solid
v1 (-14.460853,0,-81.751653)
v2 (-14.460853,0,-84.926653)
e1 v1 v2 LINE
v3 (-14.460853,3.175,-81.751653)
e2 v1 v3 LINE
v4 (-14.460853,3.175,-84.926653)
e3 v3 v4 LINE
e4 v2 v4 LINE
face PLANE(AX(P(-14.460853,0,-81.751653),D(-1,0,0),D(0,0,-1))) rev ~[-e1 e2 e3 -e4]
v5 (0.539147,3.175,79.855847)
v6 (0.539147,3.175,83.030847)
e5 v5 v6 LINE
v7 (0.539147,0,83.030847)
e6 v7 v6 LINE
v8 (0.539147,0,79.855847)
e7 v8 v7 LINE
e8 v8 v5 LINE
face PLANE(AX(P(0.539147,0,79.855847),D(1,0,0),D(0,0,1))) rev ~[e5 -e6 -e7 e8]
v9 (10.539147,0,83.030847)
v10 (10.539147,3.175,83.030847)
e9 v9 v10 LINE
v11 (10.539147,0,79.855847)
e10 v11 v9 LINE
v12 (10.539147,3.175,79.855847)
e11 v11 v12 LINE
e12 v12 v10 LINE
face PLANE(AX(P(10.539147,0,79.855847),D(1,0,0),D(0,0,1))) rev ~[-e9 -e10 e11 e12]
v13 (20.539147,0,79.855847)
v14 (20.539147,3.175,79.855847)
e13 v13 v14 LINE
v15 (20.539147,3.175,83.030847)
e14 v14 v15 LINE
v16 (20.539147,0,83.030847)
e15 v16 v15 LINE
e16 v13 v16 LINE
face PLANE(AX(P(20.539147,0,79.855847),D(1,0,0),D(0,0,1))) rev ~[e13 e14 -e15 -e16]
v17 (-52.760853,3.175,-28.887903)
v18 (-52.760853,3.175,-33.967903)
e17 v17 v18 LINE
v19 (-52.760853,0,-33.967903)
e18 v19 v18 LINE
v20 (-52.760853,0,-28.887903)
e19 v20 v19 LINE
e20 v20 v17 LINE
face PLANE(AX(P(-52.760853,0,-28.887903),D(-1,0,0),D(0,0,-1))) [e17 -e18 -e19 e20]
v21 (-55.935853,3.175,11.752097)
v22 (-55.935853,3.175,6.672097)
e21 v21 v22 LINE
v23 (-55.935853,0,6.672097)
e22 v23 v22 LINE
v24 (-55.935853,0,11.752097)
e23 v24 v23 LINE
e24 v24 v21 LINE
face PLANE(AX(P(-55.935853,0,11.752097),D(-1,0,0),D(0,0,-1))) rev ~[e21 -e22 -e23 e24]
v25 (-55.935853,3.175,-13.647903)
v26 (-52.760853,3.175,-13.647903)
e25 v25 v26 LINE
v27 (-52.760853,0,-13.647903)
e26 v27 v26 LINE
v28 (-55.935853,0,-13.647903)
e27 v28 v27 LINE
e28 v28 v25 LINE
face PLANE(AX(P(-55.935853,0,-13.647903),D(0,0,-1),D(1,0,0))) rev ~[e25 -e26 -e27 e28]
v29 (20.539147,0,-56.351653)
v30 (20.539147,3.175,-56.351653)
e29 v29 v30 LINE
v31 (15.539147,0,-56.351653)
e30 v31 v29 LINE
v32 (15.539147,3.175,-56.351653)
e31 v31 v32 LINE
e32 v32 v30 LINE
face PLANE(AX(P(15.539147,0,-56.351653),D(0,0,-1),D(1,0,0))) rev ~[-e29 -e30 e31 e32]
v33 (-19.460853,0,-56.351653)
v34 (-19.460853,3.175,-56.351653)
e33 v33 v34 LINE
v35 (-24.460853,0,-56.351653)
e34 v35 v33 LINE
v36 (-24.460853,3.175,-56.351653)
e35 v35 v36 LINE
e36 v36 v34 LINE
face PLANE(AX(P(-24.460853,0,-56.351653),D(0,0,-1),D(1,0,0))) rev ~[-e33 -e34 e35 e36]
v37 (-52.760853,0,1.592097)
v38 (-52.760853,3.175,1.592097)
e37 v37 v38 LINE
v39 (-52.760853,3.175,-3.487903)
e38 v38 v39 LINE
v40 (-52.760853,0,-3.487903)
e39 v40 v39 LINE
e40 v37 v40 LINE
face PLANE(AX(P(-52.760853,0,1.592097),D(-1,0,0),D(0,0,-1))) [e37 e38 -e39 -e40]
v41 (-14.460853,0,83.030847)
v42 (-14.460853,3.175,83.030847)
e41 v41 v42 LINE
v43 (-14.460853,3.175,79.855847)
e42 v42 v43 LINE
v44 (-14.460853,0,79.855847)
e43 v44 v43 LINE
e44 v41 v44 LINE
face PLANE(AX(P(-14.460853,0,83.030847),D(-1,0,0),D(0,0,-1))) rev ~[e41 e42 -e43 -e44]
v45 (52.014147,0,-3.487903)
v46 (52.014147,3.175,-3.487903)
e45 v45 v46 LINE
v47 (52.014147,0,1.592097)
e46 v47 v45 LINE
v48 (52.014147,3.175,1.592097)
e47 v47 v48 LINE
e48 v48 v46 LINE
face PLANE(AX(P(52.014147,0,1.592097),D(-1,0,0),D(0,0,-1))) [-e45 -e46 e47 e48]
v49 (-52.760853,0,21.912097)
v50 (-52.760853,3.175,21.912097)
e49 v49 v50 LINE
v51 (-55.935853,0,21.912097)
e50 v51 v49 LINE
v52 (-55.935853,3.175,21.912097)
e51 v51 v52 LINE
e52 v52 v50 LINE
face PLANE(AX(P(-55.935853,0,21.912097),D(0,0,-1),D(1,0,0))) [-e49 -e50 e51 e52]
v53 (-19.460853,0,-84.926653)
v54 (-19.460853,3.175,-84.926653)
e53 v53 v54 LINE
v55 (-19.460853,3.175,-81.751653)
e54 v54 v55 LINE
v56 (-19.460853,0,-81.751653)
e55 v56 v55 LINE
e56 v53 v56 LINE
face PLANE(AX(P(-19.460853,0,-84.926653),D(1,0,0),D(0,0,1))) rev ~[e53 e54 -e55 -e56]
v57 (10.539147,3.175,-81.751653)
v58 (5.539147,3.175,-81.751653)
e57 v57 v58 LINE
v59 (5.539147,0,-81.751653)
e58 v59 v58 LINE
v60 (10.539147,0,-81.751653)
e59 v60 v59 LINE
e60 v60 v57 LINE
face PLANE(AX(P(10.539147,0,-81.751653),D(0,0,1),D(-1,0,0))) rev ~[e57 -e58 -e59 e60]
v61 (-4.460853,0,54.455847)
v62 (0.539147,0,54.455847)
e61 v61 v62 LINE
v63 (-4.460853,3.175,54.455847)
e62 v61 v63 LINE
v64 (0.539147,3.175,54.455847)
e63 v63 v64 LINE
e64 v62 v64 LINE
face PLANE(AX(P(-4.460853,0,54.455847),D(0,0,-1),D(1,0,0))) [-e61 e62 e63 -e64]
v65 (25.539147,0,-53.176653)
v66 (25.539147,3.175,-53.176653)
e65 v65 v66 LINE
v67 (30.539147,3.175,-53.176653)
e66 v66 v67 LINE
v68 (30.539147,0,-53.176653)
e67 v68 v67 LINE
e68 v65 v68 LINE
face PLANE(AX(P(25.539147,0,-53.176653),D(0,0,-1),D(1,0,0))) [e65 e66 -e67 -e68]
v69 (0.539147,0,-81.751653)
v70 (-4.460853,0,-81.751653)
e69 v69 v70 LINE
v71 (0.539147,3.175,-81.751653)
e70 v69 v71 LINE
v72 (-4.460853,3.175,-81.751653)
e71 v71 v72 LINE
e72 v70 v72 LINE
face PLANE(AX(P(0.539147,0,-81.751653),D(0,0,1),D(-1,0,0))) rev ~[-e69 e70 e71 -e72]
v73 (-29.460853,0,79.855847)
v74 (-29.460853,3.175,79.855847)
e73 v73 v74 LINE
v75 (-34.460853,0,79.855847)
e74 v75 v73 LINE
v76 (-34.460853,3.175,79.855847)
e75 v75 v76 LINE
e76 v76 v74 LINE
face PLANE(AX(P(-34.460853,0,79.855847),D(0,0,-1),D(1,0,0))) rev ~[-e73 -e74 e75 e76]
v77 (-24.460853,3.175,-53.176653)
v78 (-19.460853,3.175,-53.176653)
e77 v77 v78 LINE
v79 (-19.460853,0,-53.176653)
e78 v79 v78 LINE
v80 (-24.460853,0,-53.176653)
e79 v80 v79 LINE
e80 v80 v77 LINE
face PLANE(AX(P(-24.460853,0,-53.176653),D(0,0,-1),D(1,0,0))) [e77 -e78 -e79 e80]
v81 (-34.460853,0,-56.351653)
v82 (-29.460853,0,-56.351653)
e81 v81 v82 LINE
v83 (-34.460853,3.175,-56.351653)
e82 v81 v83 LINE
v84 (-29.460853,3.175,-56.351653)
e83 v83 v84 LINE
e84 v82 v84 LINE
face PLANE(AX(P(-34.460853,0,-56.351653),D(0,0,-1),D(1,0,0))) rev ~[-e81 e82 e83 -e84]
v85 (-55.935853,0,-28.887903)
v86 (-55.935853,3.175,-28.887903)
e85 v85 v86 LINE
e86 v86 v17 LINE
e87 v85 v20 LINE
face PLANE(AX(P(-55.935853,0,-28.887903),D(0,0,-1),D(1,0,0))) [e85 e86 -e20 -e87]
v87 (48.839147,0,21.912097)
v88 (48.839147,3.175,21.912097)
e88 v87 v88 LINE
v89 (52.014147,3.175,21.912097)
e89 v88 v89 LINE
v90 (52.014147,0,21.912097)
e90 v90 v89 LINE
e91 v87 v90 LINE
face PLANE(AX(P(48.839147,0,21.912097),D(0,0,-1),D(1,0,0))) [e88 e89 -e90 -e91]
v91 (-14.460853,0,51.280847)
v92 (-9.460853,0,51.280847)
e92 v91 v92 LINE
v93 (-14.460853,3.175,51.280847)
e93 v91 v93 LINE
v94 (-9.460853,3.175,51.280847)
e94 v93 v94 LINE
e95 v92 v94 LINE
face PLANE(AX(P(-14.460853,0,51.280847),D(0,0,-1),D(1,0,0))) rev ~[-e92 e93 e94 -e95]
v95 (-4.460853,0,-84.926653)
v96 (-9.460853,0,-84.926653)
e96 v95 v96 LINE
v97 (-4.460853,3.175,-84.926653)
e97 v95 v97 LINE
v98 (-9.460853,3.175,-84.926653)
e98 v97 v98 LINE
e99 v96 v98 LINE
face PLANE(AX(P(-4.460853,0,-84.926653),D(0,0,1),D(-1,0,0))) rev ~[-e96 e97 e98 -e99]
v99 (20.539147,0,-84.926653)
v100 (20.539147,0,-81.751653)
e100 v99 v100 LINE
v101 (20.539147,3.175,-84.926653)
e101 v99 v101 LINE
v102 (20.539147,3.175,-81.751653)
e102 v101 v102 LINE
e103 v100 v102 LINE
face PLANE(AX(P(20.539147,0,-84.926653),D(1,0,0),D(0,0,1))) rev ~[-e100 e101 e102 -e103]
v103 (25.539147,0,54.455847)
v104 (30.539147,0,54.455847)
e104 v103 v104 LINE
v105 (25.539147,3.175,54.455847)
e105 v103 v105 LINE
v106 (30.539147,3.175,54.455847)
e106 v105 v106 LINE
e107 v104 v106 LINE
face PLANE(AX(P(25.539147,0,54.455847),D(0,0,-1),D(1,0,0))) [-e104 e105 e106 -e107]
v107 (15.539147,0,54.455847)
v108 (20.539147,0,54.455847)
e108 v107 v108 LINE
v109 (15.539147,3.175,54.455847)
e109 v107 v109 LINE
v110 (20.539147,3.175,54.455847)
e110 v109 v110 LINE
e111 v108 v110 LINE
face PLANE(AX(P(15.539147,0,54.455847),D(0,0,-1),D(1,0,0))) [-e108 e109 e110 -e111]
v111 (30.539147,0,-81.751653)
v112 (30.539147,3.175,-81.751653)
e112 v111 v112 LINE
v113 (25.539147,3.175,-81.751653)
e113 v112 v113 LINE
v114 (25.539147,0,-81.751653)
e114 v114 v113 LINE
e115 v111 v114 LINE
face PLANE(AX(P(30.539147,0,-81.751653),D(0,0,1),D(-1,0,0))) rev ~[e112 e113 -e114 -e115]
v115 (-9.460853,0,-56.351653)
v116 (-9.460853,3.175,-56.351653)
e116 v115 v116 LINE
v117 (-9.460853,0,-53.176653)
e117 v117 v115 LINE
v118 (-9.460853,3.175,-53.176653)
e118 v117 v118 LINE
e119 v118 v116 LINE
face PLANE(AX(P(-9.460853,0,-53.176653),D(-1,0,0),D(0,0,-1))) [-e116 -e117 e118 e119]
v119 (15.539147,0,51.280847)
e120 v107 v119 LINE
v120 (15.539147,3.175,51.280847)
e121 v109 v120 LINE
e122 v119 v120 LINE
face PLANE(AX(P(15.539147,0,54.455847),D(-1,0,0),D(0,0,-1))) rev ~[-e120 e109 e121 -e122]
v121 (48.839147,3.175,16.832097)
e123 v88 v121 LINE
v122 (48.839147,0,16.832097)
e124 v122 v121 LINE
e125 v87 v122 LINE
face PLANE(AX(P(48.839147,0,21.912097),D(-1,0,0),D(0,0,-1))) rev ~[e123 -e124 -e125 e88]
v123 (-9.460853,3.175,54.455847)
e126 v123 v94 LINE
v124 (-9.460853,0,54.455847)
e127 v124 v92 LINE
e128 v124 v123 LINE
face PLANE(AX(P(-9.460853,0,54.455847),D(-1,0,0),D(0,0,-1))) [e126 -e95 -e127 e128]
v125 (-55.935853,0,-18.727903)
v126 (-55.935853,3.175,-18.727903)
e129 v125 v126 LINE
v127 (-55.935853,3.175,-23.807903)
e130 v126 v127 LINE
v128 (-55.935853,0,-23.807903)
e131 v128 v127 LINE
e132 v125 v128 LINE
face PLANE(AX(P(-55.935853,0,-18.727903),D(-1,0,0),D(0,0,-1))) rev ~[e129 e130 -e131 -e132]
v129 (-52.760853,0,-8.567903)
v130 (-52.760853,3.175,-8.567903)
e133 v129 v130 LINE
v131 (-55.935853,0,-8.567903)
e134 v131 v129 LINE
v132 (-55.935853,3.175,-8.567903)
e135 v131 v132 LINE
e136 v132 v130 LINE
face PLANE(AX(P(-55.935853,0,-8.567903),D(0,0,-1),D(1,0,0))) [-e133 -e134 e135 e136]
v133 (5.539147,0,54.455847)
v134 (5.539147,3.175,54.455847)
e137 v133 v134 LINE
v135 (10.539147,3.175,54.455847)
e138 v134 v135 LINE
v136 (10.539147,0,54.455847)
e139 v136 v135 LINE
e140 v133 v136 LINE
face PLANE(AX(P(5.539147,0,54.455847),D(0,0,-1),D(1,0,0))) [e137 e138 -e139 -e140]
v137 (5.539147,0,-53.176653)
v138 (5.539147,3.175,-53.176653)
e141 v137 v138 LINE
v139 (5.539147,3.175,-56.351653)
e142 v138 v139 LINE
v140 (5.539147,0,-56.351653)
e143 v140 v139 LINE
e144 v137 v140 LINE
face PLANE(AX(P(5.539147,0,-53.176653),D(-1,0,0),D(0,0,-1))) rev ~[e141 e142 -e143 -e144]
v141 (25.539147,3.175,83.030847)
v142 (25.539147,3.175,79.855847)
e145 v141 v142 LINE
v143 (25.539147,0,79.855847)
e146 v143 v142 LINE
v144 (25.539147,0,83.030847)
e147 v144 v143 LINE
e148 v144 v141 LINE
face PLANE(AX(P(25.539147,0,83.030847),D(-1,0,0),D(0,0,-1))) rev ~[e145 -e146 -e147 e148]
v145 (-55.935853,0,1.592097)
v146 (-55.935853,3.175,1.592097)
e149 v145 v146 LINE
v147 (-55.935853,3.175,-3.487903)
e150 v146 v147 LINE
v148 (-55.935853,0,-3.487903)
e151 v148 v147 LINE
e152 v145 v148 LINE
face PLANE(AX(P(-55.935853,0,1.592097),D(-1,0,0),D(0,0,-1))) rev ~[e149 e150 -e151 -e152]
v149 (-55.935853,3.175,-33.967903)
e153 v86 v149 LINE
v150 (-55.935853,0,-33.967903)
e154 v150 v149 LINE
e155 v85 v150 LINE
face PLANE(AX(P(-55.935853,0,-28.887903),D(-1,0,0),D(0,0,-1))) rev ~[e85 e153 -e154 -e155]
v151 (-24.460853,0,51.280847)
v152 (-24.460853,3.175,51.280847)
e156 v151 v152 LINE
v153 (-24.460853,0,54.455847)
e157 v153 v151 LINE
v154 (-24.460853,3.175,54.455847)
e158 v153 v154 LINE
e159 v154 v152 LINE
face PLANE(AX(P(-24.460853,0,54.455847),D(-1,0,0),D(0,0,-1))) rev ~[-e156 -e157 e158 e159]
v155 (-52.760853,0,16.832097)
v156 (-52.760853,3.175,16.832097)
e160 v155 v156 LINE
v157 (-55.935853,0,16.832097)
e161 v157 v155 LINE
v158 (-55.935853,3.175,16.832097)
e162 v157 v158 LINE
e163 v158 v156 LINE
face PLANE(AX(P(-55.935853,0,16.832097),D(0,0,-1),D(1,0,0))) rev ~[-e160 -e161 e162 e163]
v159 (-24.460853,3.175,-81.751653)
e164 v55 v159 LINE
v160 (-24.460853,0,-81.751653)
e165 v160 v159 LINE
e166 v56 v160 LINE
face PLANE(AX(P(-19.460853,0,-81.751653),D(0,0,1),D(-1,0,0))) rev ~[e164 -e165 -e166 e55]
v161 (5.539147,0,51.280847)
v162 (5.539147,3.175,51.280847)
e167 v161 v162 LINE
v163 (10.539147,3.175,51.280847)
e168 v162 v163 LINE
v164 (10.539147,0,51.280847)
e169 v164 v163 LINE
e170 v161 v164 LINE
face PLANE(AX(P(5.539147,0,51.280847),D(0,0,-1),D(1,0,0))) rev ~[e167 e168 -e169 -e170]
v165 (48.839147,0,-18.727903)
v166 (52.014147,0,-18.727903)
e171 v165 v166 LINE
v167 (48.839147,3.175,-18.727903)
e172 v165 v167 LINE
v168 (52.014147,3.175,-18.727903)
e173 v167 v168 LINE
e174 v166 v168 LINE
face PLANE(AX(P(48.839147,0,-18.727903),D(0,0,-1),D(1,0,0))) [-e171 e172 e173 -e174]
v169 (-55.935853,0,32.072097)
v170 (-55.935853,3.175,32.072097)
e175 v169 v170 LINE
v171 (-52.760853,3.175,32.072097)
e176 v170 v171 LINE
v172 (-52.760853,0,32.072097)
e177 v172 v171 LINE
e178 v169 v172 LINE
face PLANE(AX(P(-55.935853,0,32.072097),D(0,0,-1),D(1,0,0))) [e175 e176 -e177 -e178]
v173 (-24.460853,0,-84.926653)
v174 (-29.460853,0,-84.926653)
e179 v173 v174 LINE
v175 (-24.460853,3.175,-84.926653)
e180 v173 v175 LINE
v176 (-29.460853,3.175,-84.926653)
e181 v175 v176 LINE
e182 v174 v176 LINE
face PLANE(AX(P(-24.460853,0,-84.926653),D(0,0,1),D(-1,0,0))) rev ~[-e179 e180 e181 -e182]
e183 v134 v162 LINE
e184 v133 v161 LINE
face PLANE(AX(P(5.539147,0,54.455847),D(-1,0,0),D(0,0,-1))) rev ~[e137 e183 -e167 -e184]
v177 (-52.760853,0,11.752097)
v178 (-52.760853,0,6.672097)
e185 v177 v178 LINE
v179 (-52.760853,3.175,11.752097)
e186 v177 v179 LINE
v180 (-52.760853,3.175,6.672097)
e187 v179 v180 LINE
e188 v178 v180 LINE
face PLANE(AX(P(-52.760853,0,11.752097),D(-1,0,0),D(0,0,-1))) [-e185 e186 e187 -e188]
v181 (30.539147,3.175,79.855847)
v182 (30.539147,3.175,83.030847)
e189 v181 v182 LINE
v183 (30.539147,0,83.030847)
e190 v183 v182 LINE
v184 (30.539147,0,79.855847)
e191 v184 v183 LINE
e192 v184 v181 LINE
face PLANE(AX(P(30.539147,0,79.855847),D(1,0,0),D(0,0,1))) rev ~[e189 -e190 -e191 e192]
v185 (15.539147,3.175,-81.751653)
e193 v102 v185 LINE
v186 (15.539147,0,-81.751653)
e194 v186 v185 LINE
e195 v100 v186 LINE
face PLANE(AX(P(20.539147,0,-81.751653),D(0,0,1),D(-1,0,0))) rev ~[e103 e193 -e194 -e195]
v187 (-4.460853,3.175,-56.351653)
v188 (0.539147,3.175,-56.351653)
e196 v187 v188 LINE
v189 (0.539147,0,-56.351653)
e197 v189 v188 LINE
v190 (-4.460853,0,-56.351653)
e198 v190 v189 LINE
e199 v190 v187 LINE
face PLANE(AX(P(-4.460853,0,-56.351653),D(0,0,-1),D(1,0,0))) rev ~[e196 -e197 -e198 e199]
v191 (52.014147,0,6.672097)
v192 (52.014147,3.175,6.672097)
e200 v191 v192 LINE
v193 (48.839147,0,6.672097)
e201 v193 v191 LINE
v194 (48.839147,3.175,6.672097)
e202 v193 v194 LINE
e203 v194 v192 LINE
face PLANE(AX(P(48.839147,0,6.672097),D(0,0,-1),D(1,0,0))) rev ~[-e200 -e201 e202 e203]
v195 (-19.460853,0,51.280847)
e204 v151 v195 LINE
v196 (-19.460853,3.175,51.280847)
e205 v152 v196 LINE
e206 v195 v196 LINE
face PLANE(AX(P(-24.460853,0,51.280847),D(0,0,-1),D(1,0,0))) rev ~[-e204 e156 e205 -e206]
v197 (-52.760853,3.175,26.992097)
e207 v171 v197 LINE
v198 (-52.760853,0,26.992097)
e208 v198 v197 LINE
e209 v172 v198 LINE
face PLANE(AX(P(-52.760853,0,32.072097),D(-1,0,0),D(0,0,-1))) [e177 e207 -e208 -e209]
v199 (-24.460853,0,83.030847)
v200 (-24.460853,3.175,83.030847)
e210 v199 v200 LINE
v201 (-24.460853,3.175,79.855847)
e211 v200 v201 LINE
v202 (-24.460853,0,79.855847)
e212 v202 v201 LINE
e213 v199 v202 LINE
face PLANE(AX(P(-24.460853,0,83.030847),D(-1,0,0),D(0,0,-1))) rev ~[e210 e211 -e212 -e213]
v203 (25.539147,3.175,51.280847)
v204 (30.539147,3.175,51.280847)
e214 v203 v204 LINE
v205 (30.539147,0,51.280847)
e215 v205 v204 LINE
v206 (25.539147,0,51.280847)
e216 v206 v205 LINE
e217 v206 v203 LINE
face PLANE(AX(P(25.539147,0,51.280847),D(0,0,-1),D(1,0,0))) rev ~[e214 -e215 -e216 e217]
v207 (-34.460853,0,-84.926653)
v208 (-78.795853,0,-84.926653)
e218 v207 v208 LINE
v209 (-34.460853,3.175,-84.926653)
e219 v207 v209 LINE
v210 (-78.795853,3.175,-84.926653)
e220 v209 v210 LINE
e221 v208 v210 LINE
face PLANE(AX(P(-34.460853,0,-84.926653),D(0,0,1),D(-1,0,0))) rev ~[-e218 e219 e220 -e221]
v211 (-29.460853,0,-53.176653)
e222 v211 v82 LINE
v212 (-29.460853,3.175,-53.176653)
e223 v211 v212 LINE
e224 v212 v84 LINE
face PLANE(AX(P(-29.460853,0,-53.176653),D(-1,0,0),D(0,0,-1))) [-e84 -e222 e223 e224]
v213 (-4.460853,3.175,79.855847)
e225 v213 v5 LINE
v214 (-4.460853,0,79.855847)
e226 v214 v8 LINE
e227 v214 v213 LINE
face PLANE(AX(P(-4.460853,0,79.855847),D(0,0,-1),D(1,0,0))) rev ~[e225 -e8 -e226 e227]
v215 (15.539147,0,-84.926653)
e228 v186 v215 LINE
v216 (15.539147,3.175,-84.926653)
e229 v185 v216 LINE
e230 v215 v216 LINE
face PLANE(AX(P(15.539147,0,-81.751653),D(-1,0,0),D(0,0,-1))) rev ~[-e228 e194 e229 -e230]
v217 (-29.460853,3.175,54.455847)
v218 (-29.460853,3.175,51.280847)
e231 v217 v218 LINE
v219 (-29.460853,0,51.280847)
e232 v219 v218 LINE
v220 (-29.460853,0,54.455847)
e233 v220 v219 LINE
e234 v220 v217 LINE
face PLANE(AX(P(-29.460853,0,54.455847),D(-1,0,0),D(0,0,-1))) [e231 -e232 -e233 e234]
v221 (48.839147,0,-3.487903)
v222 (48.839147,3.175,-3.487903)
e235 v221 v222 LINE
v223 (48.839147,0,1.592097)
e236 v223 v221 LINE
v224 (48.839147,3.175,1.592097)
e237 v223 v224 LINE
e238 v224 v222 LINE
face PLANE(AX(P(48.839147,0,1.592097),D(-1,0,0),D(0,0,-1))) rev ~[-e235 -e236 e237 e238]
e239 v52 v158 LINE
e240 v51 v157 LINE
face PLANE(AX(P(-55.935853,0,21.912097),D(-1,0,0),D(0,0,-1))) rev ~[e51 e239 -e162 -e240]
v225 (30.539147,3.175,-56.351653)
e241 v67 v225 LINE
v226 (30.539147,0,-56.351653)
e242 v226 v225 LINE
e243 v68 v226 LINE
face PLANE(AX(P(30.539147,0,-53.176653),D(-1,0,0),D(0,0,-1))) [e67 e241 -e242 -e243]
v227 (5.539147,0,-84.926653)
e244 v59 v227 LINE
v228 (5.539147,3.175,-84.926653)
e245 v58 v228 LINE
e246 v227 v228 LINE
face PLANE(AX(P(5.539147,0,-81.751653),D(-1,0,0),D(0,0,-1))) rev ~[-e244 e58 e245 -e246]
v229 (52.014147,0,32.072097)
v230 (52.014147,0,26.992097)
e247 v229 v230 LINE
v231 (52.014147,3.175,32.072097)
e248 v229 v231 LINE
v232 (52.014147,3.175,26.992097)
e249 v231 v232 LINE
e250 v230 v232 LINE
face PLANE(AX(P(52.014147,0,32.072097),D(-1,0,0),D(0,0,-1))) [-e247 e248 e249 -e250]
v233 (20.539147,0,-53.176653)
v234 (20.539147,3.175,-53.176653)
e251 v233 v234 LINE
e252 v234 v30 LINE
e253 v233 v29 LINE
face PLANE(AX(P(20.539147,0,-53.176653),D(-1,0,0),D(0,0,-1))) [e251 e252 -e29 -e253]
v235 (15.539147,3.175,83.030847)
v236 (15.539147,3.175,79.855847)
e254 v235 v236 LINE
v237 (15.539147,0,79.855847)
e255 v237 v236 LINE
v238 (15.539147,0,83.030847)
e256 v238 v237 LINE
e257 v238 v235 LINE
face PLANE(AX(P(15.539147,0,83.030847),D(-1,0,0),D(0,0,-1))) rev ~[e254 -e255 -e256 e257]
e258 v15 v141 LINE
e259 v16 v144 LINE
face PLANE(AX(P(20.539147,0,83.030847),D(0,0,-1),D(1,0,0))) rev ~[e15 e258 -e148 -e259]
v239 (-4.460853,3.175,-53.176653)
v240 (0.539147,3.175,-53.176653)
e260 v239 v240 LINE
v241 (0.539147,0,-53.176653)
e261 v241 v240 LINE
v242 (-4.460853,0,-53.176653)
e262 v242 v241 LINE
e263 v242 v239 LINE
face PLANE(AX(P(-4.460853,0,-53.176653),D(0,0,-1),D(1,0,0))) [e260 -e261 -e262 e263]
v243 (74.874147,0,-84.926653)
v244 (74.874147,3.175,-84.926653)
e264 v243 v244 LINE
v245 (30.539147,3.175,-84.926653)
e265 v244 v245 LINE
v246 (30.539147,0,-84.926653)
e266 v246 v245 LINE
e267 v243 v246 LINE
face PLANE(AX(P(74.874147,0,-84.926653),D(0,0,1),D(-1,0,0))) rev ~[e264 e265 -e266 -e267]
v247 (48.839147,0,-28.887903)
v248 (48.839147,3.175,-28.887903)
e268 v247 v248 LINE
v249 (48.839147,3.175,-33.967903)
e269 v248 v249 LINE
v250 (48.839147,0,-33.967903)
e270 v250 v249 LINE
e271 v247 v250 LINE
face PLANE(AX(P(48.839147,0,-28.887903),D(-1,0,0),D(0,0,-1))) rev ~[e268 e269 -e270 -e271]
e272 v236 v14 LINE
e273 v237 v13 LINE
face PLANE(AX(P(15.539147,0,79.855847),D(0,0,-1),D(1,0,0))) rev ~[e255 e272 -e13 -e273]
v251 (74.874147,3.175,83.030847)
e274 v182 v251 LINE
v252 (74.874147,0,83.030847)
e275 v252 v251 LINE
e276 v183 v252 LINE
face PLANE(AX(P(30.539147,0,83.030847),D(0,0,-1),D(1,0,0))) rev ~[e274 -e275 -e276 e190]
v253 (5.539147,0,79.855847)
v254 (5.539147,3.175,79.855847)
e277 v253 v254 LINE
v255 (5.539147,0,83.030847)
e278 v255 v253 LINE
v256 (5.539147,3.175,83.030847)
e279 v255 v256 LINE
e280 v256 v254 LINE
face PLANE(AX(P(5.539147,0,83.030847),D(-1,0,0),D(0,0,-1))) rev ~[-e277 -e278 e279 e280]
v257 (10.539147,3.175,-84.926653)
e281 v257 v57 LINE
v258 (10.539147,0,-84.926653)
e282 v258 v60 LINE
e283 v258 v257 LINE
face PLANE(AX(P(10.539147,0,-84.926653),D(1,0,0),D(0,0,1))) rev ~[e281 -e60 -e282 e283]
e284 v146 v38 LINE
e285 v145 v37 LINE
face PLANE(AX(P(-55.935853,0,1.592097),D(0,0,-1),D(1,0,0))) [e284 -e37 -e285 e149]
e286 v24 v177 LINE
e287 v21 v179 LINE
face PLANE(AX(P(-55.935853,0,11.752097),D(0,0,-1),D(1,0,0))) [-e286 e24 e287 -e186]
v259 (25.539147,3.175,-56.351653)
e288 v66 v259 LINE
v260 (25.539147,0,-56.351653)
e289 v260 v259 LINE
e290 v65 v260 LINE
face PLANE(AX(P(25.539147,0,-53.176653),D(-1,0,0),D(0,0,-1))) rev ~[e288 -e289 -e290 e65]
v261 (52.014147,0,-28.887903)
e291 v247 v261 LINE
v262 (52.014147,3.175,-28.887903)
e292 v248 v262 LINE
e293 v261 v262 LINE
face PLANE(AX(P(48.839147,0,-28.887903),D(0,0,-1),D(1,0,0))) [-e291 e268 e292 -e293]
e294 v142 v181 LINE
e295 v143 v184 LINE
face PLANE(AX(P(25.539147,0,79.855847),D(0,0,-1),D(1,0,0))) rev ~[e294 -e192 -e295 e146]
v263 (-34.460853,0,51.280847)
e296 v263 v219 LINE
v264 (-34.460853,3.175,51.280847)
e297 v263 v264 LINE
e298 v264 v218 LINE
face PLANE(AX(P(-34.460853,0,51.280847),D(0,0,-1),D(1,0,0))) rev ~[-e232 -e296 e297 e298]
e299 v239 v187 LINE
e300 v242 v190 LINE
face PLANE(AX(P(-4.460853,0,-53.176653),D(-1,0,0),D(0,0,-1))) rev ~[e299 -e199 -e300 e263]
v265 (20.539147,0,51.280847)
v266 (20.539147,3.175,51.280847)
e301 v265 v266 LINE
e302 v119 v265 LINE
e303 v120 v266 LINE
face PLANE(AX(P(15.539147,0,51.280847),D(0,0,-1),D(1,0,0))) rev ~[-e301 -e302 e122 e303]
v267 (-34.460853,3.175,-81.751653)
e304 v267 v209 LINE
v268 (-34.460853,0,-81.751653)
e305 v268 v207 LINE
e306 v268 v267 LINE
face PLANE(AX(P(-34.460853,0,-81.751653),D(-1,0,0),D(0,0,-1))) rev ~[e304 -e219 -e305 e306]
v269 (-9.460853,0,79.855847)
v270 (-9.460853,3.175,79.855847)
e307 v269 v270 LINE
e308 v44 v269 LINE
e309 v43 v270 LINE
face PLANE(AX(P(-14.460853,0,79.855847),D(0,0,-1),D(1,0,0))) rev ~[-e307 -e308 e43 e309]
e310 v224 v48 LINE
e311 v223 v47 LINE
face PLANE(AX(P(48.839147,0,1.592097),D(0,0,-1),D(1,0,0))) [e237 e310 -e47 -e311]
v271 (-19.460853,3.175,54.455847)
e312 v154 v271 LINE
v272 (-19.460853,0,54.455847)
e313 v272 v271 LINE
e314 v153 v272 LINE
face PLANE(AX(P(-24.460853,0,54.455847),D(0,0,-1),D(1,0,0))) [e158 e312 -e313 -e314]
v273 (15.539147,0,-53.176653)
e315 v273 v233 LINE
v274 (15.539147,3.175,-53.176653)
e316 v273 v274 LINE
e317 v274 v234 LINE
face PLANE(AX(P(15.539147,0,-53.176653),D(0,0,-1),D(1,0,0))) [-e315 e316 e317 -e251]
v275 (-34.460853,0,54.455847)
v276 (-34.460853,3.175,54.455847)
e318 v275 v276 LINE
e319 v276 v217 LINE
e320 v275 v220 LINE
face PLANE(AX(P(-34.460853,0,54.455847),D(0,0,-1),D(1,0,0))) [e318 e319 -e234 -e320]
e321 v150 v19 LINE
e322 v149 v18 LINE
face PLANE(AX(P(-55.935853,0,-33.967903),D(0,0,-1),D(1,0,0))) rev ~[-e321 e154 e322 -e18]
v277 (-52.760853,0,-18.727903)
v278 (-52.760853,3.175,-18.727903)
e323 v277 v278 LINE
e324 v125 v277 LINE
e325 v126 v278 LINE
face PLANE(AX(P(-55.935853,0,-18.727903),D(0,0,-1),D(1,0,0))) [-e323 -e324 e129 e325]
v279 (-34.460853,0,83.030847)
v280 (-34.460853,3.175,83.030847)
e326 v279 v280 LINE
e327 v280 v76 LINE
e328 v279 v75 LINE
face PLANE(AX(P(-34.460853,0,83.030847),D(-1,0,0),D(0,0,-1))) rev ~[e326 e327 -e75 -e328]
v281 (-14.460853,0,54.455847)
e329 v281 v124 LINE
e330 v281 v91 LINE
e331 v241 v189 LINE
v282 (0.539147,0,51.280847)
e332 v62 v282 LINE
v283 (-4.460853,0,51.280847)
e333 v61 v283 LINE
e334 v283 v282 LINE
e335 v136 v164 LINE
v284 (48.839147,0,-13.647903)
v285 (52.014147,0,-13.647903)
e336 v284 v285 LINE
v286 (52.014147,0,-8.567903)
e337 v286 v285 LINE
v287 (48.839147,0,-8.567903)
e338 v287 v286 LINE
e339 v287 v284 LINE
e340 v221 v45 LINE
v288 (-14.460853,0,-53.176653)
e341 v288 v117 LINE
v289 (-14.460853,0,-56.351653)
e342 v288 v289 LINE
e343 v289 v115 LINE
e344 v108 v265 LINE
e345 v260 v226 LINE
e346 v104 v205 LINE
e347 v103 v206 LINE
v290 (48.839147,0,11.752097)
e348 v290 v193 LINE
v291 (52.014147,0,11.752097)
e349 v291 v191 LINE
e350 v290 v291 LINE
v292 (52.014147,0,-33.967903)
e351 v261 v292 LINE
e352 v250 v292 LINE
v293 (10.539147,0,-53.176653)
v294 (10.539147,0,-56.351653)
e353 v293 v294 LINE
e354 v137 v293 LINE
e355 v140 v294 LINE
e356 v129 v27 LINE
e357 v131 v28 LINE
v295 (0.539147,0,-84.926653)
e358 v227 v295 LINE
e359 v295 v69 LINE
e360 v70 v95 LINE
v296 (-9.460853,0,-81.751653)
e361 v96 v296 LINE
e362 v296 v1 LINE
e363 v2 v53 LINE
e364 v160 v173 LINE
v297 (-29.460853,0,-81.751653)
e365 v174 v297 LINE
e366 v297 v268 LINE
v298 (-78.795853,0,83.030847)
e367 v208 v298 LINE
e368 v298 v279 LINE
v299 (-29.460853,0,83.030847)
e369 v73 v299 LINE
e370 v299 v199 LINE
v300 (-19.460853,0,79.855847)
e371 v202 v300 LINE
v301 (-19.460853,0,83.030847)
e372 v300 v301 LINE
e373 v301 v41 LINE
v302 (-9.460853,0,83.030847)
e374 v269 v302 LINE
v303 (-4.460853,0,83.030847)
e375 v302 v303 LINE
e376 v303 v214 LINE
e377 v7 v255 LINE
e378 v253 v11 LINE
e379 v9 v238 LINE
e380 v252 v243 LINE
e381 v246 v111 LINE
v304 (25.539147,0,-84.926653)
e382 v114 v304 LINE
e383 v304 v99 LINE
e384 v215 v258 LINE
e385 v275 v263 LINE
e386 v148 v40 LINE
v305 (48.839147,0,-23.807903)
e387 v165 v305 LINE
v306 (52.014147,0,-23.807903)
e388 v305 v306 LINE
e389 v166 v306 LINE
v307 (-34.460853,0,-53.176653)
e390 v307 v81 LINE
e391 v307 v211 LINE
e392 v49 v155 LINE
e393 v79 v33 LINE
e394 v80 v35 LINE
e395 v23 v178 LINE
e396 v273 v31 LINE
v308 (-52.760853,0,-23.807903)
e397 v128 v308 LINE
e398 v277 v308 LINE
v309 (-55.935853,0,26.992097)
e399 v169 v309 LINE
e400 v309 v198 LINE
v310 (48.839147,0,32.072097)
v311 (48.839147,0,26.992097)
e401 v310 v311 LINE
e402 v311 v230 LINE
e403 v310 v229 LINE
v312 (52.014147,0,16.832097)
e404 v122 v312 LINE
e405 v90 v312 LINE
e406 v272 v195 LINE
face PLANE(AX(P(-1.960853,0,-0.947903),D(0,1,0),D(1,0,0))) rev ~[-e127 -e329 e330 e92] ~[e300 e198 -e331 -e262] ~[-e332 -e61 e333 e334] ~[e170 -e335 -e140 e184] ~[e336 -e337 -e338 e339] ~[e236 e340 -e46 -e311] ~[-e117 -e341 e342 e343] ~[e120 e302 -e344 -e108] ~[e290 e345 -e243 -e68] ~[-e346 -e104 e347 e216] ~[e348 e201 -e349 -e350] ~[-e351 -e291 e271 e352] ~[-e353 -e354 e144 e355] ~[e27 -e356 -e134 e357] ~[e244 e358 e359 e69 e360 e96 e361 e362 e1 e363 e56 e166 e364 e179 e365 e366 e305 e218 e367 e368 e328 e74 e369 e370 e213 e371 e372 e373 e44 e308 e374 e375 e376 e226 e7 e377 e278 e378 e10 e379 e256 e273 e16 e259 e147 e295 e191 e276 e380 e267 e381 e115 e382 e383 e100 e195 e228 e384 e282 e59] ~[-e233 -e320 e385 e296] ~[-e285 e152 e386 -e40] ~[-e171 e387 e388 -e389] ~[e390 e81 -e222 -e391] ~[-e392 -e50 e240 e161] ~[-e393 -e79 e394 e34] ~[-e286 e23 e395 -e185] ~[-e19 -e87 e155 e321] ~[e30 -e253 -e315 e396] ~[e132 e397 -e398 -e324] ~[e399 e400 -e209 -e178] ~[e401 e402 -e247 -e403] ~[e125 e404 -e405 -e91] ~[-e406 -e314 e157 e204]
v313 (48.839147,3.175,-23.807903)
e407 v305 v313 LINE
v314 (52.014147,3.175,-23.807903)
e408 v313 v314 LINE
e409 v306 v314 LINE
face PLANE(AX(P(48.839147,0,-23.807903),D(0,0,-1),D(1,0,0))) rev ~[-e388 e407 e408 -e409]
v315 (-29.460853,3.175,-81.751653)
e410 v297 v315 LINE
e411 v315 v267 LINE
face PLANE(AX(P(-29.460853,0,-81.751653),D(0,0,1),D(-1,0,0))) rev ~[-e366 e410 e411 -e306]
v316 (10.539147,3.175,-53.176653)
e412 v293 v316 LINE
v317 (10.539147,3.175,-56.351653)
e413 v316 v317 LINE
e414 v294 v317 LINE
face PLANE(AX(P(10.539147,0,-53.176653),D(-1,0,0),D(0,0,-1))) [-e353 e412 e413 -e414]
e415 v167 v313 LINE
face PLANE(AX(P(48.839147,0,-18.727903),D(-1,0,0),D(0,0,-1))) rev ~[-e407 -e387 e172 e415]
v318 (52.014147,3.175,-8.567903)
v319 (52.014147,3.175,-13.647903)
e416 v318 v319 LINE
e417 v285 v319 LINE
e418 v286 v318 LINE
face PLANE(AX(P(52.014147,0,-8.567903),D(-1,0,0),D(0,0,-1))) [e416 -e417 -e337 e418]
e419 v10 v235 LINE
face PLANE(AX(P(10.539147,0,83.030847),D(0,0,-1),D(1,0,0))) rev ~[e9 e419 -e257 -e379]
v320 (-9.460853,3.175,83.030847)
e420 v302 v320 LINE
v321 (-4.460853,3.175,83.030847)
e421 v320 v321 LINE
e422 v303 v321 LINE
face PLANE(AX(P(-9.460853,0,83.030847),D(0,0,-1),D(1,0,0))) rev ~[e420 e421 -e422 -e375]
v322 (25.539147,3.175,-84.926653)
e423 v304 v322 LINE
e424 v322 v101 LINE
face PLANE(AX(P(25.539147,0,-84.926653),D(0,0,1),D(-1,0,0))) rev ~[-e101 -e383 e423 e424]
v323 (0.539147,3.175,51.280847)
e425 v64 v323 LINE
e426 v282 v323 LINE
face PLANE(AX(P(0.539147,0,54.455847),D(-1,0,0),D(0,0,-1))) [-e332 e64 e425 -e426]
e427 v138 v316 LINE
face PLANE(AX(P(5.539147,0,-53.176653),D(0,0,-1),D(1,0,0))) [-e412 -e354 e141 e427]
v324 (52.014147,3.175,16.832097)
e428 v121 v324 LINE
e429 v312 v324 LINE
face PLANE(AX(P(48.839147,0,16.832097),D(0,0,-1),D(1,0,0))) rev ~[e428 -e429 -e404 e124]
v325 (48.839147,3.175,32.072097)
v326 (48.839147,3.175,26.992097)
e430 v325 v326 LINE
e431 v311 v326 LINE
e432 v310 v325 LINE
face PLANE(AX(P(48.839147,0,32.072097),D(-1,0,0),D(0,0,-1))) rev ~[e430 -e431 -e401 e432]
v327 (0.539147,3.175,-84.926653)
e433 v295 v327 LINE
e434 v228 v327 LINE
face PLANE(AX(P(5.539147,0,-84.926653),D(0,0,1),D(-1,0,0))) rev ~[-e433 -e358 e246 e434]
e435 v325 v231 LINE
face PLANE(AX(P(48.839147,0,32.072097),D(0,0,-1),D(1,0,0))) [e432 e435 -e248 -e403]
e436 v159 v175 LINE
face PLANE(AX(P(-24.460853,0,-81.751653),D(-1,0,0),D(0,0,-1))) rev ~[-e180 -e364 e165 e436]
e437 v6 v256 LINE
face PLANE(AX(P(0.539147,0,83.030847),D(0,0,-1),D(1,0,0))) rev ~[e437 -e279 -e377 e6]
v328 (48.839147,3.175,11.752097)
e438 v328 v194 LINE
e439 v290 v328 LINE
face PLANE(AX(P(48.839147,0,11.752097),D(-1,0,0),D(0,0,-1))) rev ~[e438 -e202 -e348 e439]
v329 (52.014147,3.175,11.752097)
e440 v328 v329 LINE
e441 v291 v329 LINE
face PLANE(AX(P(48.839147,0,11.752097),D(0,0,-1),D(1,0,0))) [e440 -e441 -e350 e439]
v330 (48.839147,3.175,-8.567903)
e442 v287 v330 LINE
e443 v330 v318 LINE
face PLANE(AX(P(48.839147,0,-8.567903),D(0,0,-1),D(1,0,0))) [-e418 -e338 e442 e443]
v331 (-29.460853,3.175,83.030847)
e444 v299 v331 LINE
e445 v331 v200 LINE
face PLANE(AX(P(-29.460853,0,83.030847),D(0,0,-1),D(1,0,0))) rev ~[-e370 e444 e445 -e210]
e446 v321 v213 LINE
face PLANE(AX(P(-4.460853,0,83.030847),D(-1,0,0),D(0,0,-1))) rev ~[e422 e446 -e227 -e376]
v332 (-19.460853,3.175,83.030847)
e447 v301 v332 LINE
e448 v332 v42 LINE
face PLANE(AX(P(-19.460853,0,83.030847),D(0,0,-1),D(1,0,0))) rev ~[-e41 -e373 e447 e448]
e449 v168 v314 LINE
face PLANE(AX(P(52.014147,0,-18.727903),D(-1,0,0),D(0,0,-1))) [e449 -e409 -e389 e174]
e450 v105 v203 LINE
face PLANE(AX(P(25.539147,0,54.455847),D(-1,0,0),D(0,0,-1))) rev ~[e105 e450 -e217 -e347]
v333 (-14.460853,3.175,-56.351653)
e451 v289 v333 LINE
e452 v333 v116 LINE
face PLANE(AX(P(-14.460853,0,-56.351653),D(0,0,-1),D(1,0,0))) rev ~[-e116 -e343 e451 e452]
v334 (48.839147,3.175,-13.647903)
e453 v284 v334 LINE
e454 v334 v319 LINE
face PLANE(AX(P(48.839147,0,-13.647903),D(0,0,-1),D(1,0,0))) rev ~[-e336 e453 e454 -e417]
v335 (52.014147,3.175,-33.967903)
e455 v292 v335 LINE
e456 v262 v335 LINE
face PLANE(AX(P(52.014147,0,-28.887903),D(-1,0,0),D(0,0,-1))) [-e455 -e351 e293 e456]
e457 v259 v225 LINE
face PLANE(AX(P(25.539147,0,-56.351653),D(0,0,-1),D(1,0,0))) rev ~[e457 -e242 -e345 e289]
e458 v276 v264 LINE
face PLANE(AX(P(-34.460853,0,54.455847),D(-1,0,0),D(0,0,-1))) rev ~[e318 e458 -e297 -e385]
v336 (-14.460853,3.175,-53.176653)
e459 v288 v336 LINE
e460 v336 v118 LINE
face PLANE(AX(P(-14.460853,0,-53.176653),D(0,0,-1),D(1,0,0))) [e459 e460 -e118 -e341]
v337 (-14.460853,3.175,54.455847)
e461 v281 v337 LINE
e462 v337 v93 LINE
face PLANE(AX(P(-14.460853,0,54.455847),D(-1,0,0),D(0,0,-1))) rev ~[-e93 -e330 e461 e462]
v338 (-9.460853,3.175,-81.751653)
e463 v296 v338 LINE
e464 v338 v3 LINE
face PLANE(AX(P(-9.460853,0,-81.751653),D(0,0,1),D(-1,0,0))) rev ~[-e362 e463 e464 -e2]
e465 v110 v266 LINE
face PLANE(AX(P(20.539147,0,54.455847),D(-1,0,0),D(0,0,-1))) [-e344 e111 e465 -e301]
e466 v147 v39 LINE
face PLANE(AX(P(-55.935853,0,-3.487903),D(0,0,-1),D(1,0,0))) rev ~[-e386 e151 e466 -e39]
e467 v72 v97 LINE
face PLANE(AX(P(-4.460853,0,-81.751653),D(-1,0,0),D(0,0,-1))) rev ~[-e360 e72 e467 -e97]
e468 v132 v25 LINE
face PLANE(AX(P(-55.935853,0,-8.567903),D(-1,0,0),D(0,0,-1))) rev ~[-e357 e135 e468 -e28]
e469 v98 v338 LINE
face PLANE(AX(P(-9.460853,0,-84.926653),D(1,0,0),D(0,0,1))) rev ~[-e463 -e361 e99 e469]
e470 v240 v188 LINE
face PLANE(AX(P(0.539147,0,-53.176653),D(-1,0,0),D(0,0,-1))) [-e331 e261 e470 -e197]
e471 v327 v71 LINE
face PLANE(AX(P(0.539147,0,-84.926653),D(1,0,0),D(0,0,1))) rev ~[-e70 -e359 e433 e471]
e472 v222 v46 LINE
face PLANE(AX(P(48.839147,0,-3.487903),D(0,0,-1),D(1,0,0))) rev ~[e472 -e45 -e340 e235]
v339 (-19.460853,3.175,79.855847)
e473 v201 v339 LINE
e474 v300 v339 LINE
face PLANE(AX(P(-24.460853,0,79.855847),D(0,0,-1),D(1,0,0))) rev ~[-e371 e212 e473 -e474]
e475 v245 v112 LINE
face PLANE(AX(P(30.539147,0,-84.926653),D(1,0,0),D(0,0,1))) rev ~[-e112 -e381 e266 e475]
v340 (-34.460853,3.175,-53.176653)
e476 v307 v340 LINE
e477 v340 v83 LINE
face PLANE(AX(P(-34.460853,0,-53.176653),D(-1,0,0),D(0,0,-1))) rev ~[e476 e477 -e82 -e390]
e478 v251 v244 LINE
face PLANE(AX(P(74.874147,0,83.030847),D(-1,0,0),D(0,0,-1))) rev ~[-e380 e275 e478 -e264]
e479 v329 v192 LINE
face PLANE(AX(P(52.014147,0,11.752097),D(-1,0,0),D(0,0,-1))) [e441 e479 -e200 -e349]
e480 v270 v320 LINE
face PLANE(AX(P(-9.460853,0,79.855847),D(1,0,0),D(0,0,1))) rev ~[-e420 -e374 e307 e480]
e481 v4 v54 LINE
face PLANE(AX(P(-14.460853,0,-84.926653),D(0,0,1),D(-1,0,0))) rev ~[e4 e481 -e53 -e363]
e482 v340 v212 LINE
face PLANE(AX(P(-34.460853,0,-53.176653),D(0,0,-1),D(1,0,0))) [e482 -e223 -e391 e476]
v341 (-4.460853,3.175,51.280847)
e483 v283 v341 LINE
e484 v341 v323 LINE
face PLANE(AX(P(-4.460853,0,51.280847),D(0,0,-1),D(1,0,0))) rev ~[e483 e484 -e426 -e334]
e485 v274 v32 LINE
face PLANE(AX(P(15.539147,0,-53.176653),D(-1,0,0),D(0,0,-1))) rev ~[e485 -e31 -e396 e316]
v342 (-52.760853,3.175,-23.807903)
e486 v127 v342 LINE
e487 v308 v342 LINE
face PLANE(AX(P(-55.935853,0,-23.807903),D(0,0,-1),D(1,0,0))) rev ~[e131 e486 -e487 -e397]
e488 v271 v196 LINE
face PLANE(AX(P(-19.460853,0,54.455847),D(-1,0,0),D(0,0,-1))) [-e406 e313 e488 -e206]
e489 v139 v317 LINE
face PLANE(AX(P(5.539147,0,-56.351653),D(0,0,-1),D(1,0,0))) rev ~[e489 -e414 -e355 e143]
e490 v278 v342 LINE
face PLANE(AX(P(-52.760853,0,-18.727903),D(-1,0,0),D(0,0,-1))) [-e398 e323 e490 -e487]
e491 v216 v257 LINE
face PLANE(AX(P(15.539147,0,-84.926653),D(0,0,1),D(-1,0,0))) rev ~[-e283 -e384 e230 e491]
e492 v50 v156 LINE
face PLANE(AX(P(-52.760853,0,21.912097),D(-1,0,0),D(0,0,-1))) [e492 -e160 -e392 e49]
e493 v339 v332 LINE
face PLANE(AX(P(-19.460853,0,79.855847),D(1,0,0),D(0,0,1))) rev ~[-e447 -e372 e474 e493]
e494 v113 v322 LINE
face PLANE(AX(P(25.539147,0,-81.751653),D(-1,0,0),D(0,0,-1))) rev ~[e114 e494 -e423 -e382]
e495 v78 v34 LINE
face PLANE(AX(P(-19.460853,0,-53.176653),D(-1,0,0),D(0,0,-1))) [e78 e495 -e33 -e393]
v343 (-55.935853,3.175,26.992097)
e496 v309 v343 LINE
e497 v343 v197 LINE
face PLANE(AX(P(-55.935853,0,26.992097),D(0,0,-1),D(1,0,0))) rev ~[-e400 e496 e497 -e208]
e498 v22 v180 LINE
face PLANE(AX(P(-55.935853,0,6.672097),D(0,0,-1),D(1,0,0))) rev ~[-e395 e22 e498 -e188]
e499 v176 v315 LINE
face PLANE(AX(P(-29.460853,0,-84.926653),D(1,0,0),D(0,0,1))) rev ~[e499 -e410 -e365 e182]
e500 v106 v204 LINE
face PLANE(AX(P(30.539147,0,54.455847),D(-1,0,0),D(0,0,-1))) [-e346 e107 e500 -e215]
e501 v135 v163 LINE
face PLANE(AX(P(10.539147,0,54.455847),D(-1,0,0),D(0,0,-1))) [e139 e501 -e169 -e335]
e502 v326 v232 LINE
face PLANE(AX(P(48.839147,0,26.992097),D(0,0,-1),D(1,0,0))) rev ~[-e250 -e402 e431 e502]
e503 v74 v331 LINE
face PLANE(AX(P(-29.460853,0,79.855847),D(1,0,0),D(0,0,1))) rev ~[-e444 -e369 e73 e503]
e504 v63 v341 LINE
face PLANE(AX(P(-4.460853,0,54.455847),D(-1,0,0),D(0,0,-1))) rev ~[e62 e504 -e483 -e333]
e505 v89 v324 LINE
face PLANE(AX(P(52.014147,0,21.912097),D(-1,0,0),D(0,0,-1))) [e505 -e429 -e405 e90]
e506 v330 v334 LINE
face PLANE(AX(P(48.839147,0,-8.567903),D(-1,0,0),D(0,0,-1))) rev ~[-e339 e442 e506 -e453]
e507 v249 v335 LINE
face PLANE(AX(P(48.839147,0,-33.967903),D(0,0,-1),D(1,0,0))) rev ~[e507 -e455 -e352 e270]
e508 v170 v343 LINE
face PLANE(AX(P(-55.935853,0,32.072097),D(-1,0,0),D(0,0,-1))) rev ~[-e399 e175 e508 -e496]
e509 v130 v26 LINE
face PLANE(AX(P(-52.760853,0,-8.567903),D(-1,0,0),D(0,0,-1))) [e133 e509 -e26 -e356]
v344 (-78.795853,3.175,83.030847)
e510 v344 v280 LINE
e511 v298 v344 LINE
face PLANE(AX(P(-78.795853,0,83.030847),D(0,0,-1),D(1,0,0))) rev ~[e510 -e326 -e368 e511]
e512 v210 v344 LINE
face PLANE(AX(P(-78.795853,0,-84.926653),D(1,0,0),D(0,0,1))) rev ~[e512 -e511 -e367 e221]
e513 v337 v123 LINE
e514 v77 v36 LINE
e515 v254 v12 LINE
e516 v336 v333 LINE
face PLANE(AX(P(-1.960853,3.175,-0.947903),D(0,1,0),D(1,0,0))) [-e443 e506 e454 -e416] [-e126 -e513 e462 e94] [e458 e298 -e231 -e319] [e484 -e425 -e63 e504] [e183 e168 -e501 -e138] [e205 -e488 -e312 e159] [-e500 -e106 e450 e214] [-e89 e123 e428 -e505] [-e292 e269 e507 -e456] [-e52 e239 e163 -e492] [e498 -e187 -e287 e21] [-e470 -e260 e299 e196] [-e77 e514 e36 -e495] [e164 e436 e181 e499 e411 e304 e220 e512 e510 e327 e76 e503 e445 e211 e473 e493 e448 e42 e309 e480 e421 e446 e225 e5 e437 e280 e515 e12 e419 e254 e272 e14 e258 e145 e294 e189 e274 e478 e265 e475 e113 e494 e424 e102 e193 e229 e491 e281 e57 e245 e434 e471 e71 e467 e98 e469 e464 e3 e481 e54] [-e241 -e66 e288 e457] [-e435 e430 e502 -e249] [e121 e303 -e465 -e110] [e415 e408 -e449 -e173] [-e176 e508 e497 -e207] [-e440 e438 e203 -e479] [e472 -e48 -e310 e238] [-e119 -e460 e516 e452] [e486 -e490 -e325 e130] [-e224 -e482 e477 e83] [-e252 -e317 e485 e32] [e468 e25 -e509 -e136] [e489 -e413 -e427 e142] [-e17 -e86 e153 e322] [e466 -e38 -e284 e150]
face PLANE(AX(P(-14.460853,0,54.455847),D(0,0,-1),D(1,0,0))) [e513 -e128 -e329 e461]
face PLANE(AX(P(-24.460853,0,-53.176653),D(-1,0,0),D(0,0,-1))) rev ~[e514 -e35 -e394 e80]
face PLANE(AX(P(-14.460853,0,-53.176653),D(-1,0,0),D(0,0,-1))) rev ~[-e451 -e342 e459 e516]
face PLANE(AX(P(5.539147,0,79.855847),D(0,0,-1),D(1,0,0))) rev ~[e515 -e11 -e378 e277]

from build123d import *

# Parameters (mm, degrees)
SKETCH1_W           = 5
SKETCH1_H           = 3.175
SKETCH1_W_2         = 3.175
SKETCH1_H_2         = 5.08
BOSS_EXTRUDE1_DEPTH = 3.175


with BuildPart() as part:
    # Sketch1 → Boss-Extrude1 (new body)
    with BuildSketch(Plane(origin=(0, 0, 0), x_dir=(1, 0, 0), z_dir=(0, 1, 0))):
        Polygon((-34.46085268, -83.030846574), (-34.46085268, -79.855846574), (-29.46085268, -79.855846574), (-29.46085268, -83.030846574), (-24.46085268, -83.030846574), (-24.46085268, -79.855846574), (-19.46085268, -79.855846574), (-19.46085268, -83.030846574), (-14.46085268, -83.030846574), (-14.46085268, -79.855846574), (-9.46085268, -79.855846574), (-9.46085268, -83.030846574), (-4.46085268, -83.030846574), (-4.46085268, -79.855846574), (0.53914732, -79.855846574), (0.53914732, -83.030846574), (5.53914732, -83.030846574), (5.53914732, -79.855846574), (10.53914732, -79.855846574), (10.53914732, -83.030846574), (15.53914732, -83.030846574), (15.53914732, -79.855846574), (20.53914732, -79.855846574), (20.53914732, -83.030846574), (25.53914732, -83.030846574), (25.53914732, -79.855846574), (30.53914732, -79.855846574), (30.53914732, -83.030846574), (74.87414732, -83.030846574), (74.87414732, 84.926653426), (30.53914732, 84.926653426), (30.53914732, 81.751653426), (25.53914732, 81.751653426), (25.53914732, 84.926653426), (20.53914732, 84.926653426), (20.53914732, 81.751653426), (15.53914732, 81.751653426), (15.53914732, 84.926653426), (10.53914732, 84.926653426), (10.53914732, 81.751653426), (5.53914732, 81.751653426), (5.53914732, 84.926653426), (0.53914732, 84.926653426), (0.53914732, 81.751653426), (-4.46085268, 81.751653426), (-4.46085268, 84.926653426), (-9.46085268, 84.926653426), (-9.46085268, 81.751653426), (-14.46085268, 81.751653426), (-14.46085268, 84.926653426), (-19.46085268, 84.926653426), (-19.46085268, 81.751653426), (-24.46085268, 81.751653426), (-24.46085268, 84.926653426), (-29.46085268, 84.926653426), (-29.46085268, 81.751653426), (-34.46085268, 81.751653426), (-34.46085268, 84.926653426), (-78.79585268, 84.926653426), (-78.79585268, -83.030846574), align=None)
        with Locations((-21.96085268, 54.764153426)):
            Rectangle(SKETCH1_W, SKETCH1_H, mode=Mode.SUBTRACT)
        with Locations((-31.96085268, 54.764153426)):
            Rectangle(SKETCH1_W, SKETCH1_H, mode=Mode.SUBTRACT)
        with Locations((-11.96085268, 54.764153426)):
            Rectangle(SKETCH1_W, SKETCH1_H, mode=Mode.SUBTRACT)
        with Locations((-1.96085268, 54.764153426)):
            Rectangle(SKETCH1_W, SKETCH1_H, mode=Mode.SUBTRACT)
        with Locations((8.03914732, 54.764153426)):
            Rectangle(SKETCH1_W, SKETCH1_H, mode=Mode.SUBTRACT)
        with Locations((18.03914732, 54.764153426)):
            Rectangle(SKETCH1_W, SKETCH1_H, mode=Mode.SUBTRACT)
        with Locations((28.03914732, 54.764153426)):
            Rectangle(SKETCH1_W, SKETCH1_H, mode=Mode.SUBTRACT)
        with Locations((-21.96085268, -52.868346574)):
            Rectangle(SKETCH1_W, SKETCH1_H, mode=Mode.SUBTRACT)
        with Locations((-31.96085268, -52.868346574)):
            Rectangle(SKETCH1_W, SKETCH1_H, mode=Mode.SUBTRACT)
        with Locations((-11.96085268, -52.868346574)):
            Rectangle(SKETCH1_W, SKETCH1_H, mode=Mode.SUBTRACT)
        with Locations((-1.96085268, -52.868346574)):
            Rectangle(SKETCH1_W, SKETCH1_H, mode=Mode.SUBTRACT)
        with Locations((8.03914732, -52.868346574)):
            Rectangle(SKETCH1_W, SKETCH1_H, mode=Mode.SUBTRACT)
        with Locations((18.03914732, -52.868346574)):
            Rectangle(SKETCH1_W, SKETCH1_H, mode=Mode.SUBTRACT)
        with Locations((28.03914732, -52.868346574)):
            Rectangle(SKETCH1_W, SKETCH1_H, mode=Mode.SUBTRACT)
        with Locations((-54.34835268, 21.267903426)):
            Rectangle(SKETCH1_W_2, SKETCH1_H_2, mode=Mode.SUBTRACT)
        with Locations((-54.34835268, 31.427903426)):
            Rectangle(SKETCH1_W_2, SKETCH1_H_2, mode=Mode.SUBTRACT)
        with Locations((-54.34835268, 11.107903426)):
            Rectangle(SKETCH1_W_2, SKETCH1_H_2, mode=Mode.SUBTRACT)
        with Locations((-54.34835268, 0.947903426)):
            Rectangle(SKETCH1_W_2, SKETCH1_H_2, mode=Mode.SUBTRACT)
        with Locations((-54.34835268, -9.212096574)):
            Rectangle(SKETCH1_W_2, SKETCH1_H_2, mode=Mode.SUBTRACT)
        with Locations((-54.34835268, -19.372096574)):
            Rectangle(SKETCH1_W_2, SKETCH1_H_2, mode=Mode.SUBTRACT)
        with Locations((-54.34835268, -29.532096574)):
            Rectangle(SKETCH1_W_2, SKETCH1_H_2, mode=Mode.SUBTRACT)
        with Locations((50.42664732, -29.532096574)):
            Rectangle(SKETCH1_W_2, SKETCH1_H_2, mode=Mode.SUBTRACT)
        with Locations((50.42664732, -19.372096574)):
            Rectangle(SKETCH1_W_2, SKETCH1_H_2, mode=Mode.SUBTRACT)
        with Locations((50.42664732, -9.212096574)):
            Rectangle(SKETCH1_W_2, SKETCH1_H_2, mode=Mode.SUBTRACT)
        with Locations((50.42664732, 0.947903426)):
            Rectangle(SKETCH1_W_2, SKETCH1_H_2, mode=Mode.SUBTRACT)
        with Locations((50.42664732, 11.107903426)):
            Rectangle(SKETCH1_W_2, SKETCH1_H_2, mode=Mode.SUBTRACT)
        with Locations((50.42664732, 21.267903426)):
            Rectangle(SKETCH1_W_2, SKETCH1_H_2, mode=Mode.SUBTRACT)
        with Locations((50.42664732, 31.427903426)):
            Rectangle(SKETCH1_W_2, SKETCH1_H_2, mode=Mode.SUBTRACT)
    extrude(amount=BOSS_EXTRUDE1_DEPTH)


solid = part.part
